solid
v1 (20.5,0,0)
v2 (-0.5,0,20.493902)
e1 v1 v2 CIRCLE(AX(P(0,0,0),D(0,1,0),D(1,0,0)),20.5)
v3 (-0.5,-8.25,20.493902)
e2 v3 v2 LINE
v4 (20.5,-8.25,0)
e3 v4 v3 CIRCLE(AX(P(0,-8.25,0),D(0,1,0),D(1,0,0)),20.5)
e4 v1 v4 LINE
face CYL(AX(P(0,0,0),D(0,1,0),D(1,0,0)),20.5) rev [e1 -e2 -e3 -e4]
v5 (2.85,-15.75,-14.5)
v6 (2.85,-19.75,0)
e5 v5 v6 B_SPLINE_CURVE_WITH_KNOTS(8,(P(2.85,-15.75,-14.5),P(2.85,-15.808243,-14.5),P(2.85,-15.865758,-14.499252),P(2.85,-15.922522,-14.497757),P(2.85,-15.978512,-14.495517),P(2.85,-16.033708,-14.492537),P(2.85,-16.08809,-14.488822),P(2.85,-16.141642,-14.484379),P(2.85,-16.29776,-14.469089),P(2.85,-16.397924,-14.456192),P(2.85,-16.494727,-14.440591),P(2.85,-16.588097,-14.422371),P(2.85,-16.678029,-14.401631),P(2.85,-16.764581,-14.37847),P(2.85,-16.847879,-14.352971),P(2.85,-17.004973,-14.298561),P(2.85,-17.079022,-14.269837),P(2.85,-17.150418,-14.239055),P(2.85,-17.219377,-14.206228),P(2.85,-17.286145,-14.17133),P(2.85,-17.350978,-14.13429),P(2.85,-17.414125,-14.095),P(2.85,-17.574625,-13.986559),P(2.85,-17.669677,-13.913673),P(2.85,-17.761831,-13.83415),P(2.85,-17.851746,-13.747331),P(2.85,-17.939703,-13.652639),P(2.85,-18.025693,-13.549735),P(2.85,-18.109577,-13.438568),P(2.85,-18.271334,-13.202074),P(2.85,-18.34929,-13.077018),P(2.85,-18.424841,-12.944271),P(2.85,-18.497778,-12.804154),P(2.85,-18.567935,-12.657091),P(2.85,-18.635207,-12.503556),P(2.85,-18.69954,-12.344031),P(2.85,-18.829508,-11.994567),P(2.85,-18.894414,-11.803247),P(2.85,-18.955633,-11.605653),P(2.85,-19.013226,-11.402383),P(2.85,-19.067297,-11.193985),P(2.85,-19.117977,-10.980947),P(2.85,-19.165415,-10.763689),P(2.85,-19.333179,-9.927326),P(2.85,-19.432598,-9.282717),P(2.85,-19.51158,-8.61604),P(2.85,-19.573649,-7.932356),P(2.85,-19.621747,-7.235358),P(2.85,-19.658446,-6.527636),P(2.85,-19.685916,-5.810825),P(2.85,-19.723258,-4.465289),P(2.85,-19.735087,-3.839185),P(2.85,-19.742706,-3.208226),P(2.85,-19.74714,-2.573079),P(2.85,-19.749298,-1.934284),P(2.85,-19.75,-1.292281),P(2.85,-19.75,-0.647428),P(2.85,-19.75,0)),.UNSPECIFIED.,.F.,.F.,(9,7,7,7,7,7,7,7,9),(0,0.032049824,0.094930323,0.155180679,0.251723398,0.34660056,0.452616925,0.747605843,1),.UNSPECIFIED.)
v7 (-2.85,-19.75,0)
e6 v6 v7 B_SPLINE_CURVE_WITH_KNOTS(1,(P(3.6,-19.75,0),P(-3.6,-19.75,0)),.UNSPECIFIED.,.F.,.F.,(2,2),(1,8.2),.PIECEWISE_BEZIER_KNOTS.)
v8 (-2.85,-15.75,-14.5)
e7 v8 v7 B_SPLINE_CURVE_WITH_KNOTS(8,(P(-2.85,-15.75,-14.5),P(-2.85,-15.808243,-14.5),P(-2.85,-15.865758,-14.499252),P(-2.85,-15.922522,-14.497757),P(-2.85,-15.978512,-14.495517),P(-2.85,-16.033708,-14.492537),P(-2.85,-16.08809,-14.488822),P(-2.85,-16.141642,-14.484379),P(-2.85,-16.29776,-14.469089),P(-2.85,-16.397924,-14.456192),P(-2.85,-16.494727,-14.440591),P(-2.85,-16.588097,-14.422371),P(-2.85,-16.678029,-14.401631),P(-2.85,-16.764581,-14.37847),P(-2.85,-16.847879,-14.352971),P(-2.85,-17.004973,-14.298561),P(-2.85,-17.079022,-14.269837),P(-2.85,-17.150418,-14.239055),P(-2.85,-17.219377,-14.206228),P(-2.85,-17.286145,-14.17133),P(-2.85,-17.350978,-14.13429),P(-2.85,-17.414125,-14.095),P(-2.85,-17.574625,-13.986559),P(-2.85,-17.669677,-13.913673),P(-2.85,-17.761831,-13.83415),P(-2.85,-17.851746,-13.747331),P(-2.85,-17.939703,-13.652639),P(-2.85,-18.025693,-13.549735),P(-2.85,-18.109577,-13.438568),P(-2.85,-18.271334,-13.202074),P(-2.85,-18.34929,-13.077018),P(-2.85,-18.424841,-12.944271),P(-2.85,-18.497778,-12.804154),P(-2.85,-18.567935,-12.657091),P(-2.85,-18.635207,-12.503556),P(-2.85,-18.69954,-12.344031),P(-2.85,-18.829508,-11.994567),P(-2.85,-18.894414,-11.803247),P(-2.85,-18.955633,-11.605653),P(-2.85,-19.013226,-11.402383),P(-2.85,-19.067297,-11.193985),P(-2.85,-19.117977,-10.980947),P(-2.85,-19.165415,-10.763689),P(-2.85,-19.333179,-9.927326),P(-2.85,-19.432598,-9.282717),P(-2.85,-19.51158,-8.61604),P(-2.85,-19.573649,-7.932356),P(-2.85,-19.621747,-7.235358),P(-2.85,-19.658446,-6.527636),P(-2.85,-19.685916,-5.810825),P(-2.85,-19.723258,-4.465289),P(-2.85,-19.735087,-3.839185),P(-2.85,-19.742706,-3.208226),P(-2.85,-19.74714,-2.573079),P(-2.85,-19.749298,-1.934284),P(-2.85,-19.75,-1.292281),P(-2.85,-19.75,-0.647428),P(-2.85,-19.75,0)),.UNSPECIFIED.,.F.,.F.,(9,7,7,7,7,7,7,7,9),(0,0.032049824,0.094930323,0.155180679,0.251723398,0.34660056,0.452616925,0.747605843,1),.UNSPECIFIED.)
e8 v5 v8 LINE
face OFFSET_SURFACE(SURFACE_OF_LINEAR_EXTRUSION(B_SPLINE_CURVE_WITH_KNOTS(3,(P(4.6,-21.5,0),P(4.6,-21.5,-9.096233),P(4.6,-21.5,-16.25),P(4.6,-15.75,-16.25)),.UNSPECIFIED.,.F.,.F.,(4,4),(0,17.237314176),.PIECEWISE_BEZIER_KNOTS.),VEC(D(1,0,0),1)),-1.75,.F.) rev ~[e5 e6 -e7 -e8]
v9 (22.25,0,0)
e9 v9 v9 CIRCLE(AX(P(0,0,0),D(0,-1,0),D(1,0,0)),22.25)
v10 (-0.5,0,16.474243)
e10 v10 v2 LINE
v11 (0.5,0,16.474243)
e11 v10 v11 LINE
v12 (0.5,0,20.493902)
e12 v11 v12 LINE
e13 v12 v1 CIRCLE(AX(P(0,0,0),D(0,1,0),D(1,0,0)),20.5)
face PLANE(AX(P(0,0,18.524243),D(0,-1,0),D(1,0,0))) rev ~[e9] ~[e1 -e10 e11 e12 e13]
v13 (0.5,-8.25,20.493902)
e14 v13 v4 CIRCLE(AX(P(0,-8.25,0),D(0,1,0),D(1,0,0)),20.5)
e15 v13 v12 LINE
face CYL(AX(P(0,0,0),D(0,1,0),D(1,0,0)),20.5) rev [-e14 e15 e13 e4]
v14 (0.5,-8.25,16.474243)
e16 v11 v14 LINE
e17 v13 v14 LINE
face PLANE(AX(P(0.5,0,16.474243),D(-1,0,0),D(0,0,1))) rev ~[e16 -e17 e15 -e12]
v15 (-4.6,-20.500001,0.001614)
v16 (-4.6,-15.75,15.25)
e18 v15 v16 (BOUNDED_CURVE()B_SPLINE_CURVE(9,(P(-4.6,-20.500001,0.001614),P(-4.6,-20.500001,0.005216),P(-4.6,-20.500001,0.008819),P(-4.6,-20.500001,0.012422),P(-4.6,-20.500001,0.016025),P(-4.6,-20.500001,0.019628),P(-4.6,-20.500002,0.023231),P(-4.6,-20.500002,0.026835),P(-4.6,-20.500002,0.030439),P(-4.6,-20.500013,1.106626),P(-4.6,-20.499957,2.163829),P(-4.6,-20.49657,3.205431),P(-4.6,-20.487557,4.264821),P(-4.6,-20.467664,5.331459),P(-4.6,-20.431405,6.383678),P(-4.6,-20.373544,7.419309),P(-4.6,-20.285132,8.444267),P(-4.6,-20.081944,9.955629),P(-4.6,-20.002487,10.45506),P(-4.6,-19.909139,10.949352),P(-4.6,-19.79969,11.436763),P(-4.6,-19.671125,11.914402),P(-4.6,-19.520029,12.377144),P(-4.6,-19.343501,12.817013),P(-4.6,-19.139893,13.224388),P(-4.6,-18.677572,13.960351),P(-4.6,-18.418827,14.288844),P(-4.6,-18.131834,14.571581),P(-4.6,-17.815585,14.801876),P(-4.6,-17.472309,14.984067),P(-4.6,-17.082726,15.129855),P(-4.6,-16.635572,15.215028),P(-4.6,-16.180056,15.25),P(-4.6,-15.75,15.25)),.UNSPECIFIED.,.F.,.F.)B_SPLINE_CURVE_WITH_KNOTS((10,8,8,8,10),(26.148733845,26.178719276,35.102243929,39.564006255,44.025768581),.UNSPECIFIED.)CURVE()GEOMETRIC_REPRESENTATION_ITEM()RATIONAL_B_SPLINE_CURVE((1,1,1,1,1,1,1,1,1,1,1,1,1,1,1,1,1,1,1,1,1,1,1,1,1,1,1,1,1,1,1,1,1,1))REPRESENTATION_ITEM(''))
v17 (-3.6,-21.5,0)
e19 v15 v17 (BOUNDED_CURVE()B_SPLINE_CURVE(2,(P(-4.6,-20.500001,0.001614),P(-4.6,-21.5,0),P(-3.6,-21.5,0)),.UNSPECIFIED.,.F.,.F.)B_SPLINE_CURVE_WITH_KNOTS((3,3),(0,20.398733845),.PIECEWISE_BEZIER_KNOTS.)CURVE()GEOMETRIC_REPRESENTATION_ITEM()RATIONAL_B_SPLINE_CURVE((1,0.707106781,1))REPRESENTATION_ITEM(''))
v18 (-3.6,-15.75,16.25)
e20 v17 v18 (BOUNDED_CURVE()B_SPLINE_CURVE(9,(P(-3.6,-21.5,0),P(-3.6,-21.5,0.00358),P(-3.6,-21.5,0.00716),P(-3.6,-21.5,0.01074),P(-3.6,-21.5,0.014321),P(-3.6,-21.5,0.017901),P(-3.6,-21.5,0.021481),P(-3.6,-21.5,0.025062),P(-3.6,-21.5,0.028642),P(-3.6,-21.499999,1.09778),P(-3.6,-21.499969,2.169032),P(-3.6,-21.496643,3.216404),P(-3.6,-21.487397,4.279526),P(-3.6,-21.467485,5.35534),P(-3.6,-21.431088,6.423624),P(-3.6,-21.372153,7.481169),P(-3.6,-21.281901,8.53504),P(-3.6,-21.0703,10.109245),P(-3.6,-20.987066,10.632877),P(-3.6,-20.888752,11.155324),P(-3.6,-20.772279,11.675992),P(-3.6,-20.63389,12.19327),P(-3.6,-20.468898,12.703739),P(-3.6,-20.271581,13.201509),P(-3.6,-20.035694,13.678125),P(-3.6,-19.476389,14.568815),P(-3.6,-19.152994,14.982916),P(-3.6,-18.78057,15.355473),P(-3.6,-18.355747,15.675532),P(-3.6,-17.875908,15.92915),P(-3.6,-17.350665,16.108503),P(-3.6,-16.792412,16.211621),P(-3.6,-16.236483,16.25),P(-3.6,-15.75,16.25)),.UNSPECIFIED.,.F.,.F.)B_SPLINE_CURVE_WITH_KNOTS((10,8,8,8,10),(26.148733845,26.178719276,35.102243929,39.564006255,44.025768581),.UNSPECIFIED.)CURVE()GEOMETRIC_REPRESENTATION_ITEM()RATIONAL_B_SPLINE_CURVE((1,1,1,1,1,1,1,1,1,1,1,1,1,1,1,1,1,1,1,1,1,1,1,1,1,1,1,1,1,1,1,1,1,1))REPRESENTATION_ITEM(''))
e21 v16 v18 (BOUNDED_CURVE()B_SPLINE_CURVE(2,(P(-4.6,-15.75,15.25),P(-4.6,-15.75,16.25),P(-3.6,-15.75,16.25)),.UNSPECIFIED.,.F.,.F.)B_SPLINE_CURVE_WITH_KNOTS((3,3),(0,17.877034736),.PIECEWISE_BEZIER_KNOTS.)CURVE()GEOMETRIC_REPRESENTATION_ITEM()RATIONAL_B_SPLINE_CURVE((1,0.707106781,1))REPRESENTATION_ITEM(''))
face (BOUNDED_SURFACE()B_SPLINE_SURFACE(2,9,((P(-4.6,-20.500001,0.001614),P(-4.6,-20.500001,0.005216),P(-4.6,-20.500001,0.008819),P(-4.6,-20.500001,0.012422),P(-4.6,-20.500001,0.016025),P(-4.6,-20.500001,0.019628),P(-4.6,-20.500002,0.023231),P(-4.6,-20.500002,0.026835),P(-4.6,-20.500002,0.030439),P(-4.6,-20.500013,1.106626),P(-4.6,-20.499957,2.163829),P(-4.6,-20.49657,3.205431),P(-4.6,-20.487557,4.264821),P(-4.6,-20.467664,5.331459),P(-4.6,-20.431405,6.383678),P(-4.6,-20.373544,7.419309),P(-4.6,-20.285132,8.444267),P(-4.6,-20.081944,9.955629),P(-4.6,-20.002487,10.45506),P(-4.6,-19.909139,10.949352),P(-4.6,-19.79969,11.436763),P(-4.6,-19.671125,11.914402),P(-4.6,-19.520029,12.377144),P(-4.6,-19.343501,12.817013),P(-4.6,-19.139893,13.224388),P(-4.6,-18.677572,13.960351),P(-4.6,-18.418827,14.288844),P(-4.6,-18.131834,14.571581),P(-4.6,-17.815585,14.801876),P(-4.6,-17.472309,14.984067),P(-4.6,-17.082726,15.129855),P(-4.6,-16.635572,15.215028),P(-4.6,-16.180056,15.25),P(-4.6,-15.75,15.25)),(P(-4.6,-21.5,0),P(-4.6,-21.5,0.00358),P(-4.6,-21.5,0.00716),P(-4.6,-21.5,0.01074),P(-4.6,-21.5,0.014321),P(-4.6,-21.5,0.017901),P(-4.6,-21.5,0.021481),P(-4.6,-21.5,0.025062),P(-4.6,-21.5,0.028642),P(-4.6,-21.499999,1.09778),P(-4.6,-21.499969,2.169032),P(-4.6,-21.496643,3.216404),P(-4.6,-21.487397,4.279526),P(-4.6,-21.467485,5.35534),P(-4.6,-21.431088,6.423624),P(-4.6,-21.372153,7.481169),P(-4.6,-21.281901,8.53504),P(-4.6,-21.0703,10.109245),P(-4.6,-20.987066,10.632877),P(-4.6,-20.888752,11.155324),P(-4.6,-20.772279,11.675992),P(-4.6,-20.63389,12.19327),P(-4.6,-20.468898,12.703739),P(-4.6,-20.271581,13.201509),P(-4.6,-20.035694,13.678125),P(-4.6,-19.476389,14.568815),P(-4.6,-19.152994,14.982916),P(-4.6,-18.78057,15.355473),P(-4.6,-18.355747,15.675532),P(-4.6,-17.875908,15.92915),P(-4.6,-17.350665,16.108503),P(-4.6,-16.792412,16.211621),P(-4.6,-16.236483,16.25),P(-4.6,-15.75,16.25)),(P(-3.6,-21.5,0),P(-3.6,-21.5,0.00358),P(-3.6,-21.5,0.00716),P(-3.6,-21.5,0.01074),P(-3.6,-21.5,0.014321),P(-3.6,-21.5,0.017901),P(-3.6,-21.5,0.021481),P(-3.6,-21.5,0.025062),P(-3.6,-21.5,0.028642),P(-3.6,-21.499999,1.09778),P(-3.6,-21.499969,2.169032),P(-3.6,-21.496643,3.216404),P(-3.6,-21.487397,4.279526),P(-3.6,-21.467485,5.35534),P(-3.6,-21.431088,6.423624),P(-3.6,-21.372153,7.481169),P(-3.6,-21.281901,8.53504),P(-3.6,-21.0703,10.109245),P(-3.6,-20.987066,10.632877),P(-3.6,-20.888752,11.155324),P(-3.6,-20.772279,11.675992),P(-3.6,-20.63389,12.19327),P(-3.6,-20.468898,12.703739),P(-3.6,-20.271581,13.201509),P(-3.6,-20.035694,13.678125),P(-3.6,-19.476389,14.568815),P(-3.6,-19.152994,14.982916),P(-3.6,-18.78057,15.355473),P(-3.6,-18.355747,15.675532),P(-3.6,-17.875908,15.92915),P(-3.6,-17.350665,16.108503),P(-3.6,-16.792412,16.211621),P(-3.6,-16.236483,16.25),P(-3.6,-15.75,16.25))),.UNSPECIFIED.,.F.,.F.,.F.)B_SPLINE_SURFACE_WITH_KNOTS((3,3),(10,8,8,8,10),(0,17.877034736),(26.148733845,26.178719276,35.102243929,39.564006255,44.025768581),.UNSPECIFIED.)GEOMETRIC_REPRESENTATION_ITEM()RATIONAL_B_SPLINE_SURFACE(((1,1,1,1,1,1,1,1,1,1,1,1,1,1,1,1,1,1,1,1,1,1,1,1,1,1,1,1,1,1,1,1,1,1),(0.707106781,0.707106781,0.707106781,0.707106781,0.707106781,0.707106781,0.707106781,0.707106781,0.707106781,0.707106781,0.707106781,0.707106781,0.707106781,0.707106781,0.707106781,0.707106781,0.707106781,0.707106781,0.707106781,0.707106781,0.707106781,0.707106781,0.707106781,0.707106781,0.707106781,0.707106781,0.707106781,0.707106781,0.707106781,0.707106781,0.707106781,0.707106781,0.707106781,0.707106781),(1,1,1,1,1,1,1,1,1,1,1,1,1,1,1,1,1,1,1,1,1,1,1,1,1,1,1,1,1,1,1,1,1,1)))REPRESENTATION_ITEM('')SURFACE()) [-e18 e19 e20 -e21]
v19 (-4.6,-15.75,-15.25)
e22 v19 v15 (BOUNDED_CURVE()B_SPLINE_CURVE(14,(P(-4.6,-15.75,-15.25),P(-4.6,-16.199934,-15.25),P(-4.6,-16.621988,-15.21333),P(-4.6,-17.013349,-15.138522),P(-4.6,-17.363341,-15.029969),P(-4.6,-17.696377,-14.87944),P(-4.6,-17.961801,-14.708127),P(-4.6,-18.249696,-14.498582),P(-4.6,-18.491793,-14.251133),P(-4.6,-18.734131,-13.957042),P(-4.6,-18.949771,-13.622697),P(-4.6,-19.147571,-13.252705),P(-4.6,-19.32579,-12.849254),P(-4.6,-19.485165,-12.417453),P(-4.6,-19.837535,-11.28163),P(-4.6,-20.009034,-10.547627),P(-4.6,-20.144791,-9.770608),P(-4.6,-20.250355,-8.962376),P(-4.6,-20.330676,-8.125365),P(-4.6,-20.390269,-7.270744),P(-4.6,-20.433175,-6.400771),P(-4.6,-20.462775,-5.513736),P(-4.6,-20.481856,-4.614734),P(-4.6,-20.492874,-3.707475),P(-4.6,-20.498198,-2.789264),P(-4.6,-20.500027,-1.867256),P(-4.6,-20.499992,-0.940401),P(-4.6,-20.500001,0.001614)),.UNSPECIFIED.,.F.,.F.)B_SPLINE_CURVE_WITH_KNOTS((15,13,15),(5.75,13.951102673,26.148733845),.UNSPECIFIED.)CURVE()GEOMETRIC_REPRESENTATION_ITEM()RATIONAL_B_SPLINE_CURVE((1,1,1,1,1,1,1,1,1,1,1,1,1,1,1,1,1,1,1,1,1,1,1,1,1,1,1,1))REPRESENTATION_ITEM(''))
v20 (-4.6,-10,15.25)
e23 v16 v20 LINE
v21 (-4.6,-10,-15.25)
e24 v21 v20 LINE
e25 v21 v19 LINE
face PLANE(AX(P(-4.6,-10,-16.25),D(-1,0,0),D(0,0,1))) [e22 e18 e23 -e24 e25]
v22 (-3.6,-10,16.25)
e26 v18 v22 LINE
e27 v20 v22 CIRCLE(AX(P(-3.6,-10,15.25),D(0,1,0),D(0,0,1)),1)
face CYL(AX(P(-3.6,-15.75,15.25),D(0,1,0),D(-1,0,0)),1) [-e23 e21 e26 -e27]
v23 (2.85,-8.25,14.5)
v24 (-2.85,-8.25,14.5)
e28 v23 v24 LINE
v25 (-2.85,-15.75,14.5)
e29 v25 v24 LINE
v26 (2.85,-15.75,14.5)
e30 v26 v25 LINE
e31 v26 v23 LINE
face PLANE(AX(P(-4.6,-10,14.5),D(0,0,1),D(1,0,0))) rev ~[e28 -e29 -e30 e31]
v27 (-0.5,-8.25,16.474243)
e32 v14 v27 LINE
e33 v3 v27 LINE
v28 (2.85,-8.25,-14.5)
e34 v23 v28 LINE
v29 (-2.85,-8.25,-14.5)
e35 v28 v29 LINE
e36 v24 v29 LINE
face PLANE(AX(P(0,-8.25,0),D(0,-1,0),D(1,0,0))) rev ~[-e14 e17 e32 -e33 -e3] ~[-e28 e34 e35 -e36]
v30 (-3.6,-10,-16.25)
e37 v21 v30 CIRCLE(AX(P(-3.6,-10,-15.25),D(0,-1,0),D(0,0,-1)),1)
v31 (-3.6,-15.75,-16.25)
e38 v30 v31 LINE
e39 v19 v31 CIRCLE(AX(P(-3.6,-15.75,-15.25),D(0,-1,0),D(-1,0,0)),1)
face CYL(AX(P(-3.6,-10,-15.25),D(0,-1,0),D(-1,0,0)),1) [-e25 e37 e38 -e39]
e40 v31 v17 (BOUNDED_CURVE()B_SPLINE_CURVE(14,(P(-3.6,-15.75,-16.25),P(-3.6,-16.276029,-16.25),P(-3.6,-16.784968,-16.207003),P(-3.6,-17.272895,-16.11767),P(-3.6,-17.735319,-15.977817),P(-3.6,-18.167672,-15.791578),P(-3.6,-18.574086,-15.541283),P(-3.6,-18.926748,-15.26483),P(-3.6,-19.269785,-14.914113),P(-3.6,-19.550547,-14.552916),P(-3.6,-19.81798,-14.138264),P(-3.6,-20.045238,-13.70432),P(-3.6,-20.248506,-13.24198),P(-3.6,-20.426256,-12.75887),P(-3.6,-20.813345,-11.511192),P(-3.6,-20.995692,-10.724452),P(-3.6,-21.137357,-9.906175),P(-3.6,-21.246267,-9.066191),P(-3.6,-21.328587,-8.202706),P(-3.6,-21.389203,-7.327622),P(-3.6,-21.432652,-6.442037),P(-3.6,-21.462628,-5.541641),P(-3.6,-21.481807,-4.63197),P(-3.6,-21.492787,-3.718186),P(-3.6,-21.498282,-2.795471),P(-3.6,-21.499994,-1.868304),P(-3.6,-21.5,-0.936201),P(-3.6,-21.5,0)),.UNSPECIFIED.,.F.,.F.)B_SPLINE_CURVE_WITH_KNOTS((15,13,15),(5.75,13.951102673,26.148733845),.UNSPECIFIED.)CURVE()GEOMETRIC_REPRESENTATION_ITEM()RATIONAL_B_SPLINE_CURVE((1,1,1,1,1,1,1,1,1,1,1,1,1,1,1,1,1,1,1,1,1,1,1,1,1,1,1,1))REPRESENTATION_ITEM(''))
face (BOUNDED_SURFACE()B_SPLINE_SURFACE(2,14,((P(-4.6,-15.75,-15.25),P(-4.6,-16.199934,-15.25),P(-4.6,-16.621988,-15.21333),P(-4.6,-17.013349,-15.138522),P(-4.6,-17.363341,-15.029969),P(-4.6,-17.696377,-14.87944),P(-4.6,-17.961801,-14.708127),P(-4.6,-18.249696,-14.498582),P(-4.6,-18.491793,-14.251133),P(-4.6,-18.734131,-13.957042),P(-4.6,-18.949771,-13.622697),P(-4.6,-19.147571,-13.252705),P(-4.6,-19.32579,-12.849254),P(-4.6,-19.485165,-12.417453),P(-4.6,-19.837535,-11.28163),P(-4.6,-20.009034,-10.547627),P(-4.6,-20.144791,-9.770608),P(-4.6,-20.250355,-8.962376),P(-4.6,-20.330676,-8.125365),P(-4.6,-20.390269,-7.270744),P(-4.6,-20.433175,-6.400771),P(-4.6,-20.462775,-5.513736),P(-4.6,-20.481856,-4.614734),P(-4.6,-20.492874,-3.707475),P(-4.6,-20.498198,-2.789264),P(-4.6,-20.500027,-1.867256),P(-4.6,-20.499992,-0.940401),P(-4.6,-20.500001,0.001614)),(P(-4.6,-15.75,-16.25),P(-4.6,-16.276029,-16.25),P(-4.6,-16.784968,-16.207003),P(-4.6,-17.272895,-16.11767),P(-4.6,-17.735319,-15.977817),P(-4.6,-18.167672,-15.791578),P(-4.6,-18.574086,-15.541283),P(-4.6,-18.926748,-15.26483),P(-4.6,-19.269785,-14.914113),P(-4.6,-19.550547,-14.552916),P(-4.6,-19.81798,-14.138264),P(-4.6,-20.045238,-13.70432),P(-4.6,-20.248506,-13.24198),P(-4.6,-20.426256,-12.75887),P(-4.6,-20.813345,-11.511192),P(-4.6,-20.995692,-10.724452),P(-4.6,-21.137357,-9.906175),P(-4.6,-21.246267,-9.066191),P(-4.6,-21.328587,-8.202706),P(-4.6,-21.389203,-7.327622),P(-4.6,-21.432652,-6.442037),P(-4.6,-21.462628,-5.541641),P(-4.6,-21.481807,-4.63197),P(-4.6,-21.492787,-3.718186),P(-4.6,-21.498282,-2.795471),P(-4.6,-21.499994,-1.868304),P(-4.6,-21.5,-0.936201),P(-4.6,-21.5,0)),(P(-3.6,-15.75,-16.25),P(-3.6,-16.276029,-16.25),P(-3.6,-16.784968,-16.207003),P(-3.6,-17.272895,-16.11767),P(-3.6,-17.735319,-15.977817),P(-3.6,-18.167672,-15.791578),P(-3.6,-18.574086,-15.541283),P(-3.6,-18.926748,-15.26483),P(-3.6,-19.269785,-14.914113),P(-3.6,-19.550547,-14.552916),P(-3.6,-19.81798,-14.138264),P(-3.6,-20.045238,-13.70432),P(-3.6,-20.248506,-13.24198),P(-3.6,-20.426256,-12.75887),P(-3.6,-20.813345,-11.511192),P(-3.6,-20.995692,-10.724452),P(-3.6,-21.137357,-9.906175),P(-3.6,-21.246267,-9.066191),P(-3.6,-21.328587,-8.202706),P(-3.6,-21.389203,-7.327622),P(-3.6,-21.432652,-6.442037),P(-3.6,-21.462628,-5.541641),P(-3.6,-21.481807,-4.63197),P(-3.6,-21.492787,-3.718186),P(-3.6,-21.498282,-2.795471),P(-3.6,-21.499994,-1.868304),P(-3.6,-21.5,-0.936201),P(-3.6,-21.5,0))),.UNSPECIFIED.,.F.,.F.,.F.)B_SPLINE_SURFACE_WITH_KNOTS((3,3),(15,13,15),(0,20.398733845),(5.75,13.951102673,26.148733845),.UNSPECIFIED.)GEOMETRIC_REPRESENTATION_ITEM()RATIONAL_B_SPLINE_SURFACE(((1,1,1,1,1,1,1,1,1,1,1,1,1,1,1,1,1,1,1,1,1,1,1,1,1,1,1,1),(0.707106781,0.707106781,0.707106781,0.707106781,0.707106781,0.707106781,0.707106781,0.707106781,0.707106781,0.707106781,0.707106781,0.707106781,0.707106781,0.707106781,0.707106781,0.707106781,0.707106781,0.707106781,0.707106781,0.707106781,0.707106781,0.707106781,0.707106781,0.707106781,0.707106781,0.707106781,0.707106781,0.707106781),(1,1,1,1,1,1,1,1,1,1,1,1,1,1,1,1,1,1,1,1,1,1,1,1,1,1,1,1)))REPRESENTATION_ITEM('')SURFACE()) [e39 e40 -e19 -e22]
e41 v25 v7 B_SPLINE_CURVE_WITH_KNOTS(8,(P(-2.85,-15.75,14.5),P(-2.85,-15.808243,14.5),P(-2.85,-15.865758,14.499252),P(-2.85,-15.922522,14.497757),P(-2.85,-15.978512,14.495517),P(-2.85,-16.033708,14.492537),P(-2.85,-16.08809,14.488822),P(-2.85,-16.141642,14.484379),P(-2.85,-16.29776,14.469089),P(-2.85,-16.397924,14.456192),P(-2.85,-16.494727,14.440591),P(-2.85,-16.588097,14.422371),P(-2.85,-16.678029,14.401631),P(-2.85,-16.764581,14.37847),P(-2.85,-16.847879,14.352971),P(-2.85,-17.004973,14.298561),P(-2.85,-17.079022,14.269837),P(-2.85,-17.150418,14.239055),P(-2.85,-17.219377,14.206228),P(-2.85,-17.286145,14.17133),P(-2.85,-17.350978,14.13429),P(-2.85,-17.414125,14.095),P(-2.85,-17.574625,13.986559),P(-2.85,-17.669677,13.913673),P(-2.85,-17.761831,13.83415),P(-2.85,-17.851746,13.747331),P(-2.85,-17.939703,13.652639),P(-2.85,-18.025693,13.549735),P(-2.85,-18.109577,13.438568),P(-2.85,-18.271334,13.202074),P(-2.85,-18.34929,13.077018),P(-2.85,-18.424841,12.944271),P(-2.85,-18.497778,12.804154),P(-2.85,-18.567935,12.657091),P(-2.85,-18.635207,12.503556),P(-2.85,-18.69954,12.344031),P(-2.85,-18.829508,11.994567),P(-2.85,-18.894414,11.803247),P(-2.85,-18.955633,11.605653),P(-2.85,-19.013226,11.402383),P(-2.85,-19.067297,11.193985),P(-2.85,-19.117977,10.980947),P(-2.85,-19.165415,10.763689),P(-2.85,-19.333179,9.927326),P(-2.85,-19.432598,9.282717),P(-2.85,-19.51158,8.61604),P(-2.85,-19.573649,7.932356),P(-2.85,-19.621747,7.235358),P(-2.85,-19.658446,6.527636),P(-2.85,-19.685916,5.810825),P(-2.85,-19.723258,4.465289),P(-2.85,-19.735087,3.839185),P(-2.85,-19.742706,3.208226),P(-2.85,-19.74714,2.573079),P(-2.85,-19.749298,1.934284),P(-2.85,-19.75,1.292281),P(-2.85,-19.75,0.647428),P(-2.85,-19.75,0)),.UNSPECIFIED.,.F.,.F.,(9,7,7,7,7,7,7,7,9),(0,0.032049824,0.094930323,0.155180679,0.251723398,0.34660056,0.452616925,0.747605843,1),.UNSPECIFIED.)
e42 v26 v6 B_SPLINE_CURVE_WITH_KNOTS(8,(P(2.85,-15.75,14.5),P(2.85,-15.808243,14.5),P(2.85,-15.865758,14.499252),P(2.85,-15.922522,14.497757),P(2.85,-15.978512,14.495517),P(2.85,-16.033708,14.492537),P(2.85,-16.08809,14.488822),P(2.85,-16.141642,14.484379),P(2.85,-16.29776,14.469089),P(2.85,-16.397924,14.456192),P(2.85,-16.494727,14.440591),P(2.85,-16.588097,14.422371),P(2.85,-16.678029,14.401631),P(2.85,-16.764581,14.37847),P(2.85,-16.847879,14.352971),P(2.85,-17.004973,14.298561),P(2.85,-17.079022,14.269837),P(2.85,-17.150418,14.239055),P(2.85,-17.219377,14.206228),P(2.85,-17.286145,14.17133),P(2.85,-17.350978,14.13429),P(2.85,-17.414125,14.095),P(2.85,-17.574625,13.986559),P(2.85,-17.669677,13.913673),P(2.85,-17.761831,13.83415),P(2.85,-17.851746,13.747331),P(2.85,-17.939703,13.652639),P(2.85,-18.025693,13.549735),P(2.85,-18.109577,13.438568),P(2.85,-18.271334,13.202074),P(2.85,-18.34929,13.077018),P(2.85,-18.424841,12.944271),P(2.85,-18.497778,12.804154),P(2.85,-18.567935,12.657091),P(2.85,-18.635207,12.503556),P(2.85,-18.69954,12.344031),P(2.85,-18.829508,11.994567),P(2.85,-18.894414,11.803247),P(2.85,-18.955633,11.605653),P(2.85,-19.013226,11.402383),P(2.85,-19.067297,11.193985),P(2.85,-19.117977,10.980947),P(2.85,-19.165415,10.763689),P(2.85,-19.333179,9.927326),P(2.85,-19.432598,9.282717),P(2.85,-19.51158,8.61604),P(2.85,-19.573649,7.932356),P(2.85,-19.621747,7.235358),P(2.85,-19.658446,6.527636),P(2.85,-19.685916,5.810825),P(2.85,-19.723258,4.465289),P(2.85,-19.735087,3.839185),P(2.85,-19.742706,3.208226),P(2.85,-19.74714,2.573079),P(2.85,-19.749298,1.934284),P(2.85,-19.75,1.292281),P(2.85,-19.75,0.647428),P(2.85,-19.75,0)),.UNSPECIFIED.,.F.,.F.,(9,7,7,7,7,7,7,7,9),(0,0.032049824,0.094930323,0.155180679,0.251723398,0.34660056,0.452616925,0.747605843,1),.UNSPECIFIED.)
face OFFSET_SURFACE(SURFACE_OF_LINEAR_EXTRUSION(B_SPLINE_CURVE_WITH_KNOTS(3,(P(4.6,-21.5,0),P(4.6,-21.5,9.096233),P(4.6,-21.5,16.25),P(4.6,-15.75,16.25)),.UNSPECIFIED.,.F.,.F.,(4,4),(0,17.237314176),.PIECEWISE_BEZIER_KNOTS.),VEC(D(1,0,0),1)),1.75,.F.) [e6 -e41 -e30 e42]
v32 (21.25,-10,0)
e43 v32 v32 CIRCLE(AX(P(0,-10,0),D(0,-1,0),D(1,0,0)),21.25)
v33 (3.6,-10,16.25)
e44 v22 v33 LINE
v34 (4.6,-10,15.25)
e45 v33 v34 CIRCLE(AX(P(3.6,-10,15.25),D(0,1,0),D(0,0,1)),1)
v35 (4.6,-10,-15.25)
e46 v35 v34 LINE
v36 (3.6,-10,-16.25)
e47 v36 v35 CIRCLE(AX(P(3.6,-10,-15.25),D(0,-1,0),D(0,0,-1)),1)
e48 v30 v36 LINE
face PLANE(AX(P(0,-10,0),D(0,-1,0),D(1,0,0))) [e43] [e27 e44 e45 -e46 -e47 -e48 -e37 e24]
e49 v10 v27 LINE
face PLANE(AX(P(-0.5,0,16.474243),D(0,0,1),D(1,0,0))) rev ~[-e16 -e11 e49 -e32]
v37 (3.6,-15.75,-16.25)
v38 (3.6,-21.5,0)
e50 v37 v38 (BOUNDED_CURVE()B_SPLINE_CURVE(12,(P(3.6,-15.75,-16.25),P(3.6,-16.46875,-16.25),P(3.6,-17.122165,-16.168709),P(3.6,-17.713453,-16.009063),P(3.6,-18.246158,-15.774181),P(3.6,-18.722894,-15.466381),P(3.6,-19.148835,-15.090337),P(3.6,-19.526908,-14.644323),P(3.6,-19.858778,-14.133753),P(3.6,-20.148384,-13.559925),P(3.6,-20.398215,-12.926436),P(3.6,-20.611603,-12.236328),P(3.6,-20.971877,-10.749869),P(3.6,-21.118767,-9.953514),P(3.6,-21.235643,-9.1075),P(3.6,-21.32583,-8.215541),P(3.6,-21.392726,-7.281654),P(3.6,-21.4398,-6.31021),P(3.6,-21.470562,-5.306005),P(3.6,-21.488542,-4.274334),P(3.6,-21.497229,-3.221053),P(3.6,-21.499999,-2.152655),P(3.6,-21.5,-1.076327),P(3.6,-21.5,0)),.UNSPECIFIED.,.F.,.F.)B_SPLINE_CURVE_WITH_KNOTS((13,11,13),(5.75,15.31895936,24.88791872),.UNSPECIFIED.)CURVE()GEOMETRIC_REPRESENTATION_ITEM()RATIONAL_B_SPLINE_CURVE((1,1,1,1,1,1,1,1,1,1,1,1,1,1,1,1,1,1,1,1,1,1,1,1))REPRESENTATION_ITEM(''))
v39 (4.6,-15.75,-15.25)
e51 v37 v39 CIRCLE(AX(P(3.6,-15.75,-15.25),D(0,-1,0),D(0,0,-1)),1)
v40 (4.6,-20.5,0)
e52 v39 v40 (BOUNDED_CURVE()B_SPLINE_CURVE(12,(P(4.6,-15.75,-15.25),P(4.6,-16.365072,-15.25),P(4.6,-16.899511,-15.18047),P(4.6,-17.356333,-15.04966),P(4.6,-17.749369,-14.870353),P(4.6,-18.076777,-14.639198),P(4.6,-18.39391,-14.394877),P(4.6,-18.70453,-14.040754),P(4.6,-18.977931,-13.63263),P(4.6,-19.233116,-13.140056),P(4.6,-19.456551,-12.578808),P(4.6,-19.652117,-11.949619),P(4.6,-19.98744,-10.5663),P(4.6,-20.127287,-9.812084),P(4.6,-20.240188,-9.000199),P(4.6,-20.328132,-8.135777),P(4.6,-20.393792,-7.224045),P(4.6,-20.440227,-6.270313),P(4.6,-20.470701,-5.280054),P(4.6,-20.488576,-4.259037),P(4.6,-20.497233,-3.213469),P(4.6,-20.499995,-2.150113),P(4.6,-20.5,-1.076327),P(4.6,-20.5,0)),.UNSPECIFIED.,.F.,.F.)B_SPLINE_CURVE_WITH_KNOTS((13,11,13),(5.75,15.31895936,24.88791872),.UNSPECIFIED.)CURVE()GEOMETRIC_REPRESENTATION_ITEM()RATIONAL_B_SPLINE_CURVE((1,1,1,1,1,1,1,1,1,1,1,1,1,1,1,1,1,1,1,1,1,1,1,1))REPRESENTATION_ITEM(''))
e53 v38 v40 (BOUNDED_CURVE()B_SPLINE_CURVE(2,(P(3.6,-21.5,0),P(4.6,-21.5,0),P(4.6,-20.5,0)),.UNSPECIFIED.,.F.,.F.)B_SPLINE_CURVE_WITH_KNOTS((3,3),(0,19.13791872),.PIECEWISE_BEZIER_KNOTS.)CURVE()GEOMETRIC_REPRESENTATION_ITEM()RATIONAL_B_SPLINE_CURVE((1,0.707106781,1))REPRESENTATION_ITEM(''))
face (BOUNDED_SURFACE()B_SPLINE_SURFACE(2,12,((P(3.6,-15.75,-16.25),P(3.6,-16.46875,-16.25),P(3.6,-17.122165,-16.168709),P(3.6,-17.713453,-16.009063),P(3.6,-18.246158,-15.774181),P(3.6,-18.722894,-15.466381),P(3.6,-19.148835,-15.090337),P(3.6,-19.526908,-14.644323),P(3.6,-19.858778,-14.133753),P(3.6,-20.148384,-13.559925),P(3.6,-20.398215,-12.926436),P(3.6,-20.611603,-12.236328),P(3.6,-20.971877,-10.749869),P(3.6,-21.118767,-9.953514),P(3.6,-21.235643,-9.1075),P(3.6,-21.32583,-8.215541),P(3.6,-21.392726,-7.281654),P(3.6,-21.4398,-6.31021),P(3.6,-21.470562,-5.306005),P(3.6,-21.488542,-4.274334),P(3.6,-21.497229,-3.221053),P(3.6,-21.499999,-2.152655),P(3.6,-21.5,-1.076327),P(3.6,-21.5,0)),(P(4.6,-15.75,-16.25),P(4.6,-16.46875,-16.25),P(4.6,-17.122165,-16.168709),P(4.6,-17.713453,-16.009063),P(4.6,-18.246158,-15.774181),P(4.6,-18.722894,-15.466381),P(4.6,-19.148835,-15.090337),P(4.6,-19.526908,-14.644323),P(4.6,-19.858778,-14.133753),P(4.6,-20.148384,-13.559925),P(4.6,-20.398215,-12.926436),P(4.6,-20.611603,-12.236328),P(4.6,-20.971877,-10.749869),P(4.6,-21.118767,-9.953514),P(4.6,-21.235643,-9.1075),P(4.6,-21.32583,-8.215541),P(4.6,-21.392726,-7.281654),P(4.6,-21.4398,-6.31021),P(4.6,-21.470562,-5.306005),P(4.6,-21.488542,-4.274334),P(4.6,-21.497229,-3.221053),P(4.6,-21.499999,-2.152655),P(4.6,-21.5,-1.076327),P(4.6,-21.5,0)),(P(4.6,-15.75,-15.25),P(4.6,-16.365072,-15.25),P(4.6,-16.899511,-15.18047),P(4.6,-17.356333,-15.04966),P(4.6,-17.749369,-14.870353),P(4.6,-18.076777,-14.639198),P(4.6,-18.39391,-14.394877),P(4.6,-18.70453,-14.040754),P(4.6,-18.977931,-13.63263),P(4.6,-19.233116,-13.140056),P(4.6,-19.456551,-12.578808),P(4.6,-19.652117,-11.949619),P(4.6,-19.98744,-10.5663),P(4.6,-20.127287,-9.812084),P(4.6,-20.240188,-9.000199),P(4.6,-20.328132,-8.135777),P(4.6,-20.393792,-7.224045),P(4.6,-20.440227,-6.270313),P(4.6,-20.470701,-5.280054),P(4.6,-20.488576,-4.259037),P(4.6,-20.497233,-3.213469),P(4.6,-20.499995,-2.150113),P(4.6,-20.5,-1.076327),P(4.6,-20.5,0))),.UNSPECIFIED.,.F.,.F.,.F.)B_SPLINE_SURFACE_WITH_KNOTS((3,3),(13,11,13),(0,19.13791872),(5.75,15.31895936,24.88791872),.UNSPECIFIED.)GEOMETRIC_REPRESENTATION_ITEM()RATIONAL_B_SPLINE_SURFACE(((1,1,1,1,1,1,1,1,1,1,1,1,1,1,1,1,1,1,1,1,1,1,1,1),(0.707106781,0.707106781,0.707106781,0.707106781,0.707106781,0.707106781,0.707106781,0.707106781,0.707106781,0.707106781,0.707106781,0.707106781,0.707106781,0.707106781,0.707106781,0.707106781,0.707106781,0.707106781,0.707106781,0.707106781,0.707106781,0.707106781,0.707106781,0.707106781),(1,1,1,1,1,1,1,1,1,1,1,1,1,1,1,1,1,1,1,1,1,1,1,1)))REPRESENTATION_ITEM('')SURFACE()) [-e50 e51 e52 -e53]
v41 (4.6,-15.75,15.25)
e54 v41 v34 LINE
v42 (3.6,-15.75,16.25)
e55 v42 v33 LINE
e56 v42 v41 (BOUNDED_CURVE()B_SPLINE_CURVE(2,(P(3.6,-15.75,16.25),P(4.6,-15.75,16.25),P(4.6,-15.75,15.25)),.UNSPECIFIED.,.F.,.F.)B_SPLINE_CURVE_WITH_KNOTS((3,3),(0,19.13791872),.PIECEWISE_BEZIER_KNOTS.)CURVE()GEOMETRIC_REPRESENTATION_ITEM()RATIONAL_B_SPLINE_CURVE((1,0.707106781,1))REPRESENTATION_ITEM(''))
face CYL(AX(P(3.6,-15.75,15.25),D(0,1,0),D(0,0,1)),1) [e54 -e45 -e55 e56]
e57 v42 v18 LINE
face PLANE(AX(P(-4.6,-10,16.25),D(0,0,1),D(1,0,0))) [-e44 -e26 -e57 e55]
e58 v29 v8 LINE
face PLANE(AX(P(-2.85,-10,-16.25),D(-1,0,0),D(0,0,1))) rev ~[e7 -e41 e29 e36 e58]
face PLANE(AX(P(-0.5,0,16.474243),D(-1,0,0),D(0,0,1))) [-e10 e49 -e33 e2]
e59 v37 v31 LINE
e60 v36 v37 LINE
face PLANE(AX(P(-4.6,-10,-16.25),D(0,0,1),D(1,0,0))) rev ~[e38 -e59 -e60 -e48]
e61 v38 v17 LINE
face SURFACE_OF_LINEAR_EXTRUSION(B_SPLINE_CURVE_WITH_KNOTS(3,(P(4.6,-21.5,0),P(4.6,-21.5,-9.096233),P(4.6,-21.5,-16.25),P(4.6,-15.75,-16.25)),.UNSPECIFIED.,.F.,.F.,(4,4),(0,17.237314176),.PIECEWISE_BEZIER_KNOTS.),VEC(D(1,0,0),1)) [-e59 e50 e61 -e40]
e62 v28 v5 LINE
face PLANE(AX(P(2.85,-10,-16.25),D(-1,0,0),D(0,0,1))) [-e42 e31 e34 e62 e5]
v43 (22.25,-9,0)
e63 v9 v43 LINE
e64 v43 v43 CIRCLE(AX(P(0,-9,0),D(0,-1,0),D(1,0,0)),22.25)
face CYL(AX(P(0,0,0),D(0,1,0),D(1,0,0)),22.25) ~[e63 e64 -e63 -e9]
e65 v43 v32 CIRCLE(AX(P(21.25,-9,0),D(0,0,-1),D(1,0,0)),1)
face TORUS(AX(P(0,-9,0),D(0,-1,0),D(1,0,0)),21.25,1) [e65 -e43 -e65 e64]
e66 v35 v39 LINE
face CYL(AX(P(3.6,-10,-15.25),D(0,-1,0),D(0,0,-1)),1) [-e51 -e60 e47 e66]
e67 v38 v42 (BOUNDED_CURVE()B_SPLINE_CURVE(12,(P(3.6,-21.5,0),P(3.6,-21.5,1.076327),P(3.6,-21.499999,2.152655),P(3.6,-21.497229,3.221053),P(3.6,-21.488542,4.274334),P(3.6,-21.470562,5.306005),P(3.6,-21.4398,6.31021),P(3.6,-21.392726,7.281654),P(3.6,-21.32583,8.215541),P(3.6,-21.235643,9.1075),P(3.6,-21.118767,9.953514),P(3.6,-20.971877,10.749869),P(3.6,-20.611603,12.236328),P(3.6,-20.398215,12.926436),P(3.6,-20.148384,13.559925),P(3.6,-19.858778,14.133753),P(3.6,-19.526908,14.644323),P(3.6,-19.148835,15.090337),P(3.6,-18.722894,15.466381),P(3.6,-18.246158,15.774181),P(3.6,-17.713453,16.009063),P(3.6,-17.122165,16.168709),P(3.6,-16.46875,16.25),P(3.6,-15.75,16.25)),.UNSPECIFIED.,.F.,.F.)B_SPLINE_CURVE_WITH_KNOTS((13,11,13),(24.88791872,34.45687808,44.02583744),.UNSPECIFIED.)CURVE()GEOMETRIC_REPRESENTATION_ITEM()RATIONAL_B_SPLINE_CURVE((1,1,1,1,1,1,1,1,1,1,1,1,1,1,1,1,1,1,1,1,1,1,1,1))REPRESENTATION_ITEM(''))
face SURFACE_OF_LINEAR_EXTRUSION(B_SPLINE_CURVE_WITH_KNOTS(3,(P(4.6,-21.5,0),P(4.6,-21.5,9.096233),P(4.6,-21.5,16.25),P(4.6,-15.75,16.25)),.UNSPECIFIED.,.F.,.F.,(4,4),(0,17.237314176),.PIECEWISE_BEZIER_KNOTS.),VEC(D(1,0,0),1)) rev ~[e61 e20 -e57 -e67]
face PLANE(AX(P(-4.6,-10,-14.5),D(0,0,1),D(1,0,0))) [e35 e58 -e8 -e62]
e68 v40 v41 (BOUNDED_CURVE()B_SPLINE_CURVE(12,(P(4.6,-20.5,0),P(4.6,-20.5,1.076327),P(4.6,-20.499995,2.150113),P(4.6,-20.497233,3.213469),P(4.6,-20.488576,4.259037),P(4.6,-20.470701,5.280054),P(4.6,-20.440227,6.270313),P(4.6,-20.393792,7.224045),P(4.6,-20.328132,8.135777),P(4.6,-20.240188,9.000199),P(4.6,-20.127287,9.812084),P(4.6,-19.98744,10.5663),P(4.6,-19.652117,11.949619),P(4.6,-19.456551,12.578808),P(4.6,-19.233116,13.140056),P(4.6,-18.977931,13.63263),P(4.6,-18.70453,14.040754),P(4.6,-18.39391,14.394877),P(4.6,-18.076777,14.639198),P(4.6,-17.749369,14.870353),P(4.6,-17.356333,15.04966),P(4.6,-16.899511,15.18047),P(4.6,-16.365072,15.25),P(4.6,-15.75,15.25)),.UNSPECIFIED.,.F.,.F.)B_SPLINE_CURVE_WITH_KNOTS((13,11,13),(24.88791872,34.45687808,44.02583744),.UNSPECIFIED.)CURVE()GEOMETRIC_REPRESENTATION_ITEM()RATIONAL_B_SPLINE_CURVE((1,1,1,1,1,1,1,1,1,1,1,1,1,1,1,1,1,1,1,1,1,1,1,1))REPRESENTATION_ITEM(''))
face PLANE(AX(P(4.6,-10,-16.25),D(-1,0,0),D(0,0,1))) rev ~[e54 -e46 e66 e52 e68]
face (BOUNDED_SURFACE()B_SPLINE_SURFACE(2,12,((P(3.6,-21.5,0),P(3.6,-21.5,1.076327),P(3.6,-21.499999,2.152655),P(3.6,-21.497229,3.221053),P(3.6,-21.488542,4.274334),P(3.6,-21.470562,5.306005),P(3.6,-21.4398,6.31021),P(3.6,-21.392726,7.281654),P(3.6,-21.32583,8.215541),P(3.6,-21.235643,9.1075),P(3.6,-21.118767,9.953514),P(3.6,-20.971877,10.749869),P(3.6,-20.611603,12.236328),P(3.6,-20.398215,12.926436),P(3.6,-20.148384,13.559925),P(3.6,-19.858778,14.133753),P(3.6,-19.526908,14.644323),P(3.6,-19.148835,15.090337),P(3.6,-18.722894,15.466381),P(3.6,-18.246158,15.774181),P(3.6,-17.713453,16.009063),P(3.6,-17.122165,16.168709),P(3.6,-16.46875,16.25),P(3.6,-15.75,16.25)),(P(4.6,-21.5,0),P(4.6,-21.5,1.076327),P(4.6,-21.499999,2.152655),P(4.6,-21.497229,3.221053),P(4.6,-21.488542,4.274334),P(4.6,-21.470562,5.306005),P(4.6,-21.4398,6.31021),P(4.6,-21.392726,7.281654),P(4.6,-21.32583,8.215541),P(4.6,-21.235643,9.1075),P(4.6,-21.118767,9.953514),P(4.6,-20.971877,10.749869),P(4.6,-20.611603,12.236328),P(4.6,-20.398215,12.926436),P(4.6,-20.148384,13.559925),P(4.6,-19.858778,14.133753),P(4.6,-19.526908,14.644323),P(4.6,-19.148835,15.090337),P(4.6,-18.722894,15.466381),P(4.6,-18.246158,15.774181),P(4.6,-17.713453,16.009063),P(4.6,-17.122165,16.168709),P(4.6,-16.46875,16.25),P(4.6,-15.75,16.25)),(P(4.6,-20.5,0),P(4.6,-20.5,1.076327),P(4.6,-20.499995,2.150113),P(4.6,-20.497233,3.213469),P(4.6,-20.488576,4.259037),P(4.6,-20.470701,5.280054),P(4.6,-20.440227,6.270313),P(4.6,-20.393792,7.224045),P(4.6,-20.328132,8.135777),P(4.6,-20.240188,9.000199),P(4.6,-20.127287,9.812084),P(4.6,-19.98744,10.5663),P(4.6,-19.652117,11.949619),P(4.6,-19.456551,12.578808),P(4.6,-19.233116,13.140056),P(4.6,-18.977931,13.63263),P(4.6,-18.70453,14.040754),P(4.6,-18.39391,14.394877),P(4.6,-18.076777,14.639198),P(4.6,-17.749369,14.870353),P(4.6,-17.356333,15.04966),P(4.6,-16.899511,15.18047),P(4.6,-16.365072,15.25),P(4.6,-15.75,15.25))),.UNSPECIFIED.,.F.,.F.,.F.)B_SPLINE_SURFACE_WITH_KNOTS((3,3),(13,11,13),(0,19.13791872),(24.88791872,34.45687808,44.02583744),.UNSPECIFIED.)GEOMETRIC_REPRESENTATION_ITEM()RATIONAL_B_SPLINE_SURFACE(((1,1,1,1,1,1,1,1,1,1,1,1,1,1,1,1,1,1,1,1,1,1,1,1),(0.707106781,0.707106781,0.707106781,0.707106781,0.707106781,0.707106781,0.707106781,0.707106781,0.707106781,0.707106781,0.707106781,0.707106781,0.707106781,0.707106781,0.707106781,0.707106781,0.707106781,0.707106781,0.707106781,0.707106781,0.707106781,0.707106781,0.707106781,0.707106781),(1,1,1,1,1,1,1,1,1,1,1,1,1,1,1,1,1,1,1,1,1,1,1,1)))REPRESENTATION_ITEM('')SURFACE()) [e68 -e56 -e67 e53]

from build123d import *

# Parameters (mm, degrees)
F0_R     = 22.25
F1_DEPTH = 10
F2_W     = 9.2
F2_H     = 32.5
F3_DEPTH = 11.5
F5_DEPTH = 10
F6_R     = 1
F7_T     = -1.75
F8_W     = 1
F8_H     = 4.1
F9_DEPTH = 10
F10_R    = 1


with BuildPart() as f1:
    # F0 (on Front) → F1 (new body)
    with BuildSketch(Plane.XZ):
        Circle(F0_R)
    extrude(amount=F1_DEPTH)

    # F2 (on face) → F3 (join)
    with BuildSketch(Plane.XZ.offset(10)):
        Rectangle(F2_W, F2_H)
    extrude(amount=F3_DEPTH)

    # F4 (on face) → F5 (cut)
    with BuildSketch(Plane.YZ.offset(4.6)):
        with BuildLine():
            Line((-21.5, 16.25), (-21.5, 0))
            add(Edge.make_bspline(
                [(-21.5, 0), (-21.5, 9.096233188), (-21.5, 16.25), (-15.75, 16.25)],
                knots=[0, 0, 0, 0, 17.2373141759, 17.2373141759, 17.2373141759, 17.2373141759], degree=3))
            Line((-15.75, 16.25), (-21.5, 16.25))
        make_face()
        with BuildLine():
            add(Edge.make_bspline(
                [(-21.5, 0), (-21.5, -9.096233188), (-21.5, -16.25), (-15.75, -16.25)],
                knots=[0, 0, 0, 0, 17.2373141759, 17.2373141759, 17.2373141759, 17.2373141759], degree=3))
            Line((-21.5, 0), (-21.5, -16.25))
            Line((-21.5, -16.25), (-15.75, -16.25))
        make_face()
    extrude(amount=-F5_DEPTH, mode=Mode.SUBTRACT)

    # F6
    f6_edges = [f1.edges().sort_by_distance(p)[0] for p in [
        (4.6, -12.875, -16.25),
        (-4.6, -21.14469, -9.555694),
    ]]
    fillet(f6_edges, radius=F6_R)

    # F7
    f7_openings = [f1.faces().sort_by_distance(p)[0] for p in [
        (0, 0, 0),
    ]]
    offset(amount=F7_T, openings=f7_openings, kind=Kind.INTERSECTION)

    # F8 (on Front) → F9 (join)
    with BuildSketch(Plane.XZ):
        with Locations((0, 18.524242565)):
            Rectangle(F8_W, F8_H)
    extrude(amount=F9_DEPTH)

    # F10
    f10_edges = [f1.edges().sort_by_distance(p)[0] for p in [
        (-22.25, -10, 0),
    ]]
    fillet(f10_edges, radius=F10_R)


solid = f1.part
